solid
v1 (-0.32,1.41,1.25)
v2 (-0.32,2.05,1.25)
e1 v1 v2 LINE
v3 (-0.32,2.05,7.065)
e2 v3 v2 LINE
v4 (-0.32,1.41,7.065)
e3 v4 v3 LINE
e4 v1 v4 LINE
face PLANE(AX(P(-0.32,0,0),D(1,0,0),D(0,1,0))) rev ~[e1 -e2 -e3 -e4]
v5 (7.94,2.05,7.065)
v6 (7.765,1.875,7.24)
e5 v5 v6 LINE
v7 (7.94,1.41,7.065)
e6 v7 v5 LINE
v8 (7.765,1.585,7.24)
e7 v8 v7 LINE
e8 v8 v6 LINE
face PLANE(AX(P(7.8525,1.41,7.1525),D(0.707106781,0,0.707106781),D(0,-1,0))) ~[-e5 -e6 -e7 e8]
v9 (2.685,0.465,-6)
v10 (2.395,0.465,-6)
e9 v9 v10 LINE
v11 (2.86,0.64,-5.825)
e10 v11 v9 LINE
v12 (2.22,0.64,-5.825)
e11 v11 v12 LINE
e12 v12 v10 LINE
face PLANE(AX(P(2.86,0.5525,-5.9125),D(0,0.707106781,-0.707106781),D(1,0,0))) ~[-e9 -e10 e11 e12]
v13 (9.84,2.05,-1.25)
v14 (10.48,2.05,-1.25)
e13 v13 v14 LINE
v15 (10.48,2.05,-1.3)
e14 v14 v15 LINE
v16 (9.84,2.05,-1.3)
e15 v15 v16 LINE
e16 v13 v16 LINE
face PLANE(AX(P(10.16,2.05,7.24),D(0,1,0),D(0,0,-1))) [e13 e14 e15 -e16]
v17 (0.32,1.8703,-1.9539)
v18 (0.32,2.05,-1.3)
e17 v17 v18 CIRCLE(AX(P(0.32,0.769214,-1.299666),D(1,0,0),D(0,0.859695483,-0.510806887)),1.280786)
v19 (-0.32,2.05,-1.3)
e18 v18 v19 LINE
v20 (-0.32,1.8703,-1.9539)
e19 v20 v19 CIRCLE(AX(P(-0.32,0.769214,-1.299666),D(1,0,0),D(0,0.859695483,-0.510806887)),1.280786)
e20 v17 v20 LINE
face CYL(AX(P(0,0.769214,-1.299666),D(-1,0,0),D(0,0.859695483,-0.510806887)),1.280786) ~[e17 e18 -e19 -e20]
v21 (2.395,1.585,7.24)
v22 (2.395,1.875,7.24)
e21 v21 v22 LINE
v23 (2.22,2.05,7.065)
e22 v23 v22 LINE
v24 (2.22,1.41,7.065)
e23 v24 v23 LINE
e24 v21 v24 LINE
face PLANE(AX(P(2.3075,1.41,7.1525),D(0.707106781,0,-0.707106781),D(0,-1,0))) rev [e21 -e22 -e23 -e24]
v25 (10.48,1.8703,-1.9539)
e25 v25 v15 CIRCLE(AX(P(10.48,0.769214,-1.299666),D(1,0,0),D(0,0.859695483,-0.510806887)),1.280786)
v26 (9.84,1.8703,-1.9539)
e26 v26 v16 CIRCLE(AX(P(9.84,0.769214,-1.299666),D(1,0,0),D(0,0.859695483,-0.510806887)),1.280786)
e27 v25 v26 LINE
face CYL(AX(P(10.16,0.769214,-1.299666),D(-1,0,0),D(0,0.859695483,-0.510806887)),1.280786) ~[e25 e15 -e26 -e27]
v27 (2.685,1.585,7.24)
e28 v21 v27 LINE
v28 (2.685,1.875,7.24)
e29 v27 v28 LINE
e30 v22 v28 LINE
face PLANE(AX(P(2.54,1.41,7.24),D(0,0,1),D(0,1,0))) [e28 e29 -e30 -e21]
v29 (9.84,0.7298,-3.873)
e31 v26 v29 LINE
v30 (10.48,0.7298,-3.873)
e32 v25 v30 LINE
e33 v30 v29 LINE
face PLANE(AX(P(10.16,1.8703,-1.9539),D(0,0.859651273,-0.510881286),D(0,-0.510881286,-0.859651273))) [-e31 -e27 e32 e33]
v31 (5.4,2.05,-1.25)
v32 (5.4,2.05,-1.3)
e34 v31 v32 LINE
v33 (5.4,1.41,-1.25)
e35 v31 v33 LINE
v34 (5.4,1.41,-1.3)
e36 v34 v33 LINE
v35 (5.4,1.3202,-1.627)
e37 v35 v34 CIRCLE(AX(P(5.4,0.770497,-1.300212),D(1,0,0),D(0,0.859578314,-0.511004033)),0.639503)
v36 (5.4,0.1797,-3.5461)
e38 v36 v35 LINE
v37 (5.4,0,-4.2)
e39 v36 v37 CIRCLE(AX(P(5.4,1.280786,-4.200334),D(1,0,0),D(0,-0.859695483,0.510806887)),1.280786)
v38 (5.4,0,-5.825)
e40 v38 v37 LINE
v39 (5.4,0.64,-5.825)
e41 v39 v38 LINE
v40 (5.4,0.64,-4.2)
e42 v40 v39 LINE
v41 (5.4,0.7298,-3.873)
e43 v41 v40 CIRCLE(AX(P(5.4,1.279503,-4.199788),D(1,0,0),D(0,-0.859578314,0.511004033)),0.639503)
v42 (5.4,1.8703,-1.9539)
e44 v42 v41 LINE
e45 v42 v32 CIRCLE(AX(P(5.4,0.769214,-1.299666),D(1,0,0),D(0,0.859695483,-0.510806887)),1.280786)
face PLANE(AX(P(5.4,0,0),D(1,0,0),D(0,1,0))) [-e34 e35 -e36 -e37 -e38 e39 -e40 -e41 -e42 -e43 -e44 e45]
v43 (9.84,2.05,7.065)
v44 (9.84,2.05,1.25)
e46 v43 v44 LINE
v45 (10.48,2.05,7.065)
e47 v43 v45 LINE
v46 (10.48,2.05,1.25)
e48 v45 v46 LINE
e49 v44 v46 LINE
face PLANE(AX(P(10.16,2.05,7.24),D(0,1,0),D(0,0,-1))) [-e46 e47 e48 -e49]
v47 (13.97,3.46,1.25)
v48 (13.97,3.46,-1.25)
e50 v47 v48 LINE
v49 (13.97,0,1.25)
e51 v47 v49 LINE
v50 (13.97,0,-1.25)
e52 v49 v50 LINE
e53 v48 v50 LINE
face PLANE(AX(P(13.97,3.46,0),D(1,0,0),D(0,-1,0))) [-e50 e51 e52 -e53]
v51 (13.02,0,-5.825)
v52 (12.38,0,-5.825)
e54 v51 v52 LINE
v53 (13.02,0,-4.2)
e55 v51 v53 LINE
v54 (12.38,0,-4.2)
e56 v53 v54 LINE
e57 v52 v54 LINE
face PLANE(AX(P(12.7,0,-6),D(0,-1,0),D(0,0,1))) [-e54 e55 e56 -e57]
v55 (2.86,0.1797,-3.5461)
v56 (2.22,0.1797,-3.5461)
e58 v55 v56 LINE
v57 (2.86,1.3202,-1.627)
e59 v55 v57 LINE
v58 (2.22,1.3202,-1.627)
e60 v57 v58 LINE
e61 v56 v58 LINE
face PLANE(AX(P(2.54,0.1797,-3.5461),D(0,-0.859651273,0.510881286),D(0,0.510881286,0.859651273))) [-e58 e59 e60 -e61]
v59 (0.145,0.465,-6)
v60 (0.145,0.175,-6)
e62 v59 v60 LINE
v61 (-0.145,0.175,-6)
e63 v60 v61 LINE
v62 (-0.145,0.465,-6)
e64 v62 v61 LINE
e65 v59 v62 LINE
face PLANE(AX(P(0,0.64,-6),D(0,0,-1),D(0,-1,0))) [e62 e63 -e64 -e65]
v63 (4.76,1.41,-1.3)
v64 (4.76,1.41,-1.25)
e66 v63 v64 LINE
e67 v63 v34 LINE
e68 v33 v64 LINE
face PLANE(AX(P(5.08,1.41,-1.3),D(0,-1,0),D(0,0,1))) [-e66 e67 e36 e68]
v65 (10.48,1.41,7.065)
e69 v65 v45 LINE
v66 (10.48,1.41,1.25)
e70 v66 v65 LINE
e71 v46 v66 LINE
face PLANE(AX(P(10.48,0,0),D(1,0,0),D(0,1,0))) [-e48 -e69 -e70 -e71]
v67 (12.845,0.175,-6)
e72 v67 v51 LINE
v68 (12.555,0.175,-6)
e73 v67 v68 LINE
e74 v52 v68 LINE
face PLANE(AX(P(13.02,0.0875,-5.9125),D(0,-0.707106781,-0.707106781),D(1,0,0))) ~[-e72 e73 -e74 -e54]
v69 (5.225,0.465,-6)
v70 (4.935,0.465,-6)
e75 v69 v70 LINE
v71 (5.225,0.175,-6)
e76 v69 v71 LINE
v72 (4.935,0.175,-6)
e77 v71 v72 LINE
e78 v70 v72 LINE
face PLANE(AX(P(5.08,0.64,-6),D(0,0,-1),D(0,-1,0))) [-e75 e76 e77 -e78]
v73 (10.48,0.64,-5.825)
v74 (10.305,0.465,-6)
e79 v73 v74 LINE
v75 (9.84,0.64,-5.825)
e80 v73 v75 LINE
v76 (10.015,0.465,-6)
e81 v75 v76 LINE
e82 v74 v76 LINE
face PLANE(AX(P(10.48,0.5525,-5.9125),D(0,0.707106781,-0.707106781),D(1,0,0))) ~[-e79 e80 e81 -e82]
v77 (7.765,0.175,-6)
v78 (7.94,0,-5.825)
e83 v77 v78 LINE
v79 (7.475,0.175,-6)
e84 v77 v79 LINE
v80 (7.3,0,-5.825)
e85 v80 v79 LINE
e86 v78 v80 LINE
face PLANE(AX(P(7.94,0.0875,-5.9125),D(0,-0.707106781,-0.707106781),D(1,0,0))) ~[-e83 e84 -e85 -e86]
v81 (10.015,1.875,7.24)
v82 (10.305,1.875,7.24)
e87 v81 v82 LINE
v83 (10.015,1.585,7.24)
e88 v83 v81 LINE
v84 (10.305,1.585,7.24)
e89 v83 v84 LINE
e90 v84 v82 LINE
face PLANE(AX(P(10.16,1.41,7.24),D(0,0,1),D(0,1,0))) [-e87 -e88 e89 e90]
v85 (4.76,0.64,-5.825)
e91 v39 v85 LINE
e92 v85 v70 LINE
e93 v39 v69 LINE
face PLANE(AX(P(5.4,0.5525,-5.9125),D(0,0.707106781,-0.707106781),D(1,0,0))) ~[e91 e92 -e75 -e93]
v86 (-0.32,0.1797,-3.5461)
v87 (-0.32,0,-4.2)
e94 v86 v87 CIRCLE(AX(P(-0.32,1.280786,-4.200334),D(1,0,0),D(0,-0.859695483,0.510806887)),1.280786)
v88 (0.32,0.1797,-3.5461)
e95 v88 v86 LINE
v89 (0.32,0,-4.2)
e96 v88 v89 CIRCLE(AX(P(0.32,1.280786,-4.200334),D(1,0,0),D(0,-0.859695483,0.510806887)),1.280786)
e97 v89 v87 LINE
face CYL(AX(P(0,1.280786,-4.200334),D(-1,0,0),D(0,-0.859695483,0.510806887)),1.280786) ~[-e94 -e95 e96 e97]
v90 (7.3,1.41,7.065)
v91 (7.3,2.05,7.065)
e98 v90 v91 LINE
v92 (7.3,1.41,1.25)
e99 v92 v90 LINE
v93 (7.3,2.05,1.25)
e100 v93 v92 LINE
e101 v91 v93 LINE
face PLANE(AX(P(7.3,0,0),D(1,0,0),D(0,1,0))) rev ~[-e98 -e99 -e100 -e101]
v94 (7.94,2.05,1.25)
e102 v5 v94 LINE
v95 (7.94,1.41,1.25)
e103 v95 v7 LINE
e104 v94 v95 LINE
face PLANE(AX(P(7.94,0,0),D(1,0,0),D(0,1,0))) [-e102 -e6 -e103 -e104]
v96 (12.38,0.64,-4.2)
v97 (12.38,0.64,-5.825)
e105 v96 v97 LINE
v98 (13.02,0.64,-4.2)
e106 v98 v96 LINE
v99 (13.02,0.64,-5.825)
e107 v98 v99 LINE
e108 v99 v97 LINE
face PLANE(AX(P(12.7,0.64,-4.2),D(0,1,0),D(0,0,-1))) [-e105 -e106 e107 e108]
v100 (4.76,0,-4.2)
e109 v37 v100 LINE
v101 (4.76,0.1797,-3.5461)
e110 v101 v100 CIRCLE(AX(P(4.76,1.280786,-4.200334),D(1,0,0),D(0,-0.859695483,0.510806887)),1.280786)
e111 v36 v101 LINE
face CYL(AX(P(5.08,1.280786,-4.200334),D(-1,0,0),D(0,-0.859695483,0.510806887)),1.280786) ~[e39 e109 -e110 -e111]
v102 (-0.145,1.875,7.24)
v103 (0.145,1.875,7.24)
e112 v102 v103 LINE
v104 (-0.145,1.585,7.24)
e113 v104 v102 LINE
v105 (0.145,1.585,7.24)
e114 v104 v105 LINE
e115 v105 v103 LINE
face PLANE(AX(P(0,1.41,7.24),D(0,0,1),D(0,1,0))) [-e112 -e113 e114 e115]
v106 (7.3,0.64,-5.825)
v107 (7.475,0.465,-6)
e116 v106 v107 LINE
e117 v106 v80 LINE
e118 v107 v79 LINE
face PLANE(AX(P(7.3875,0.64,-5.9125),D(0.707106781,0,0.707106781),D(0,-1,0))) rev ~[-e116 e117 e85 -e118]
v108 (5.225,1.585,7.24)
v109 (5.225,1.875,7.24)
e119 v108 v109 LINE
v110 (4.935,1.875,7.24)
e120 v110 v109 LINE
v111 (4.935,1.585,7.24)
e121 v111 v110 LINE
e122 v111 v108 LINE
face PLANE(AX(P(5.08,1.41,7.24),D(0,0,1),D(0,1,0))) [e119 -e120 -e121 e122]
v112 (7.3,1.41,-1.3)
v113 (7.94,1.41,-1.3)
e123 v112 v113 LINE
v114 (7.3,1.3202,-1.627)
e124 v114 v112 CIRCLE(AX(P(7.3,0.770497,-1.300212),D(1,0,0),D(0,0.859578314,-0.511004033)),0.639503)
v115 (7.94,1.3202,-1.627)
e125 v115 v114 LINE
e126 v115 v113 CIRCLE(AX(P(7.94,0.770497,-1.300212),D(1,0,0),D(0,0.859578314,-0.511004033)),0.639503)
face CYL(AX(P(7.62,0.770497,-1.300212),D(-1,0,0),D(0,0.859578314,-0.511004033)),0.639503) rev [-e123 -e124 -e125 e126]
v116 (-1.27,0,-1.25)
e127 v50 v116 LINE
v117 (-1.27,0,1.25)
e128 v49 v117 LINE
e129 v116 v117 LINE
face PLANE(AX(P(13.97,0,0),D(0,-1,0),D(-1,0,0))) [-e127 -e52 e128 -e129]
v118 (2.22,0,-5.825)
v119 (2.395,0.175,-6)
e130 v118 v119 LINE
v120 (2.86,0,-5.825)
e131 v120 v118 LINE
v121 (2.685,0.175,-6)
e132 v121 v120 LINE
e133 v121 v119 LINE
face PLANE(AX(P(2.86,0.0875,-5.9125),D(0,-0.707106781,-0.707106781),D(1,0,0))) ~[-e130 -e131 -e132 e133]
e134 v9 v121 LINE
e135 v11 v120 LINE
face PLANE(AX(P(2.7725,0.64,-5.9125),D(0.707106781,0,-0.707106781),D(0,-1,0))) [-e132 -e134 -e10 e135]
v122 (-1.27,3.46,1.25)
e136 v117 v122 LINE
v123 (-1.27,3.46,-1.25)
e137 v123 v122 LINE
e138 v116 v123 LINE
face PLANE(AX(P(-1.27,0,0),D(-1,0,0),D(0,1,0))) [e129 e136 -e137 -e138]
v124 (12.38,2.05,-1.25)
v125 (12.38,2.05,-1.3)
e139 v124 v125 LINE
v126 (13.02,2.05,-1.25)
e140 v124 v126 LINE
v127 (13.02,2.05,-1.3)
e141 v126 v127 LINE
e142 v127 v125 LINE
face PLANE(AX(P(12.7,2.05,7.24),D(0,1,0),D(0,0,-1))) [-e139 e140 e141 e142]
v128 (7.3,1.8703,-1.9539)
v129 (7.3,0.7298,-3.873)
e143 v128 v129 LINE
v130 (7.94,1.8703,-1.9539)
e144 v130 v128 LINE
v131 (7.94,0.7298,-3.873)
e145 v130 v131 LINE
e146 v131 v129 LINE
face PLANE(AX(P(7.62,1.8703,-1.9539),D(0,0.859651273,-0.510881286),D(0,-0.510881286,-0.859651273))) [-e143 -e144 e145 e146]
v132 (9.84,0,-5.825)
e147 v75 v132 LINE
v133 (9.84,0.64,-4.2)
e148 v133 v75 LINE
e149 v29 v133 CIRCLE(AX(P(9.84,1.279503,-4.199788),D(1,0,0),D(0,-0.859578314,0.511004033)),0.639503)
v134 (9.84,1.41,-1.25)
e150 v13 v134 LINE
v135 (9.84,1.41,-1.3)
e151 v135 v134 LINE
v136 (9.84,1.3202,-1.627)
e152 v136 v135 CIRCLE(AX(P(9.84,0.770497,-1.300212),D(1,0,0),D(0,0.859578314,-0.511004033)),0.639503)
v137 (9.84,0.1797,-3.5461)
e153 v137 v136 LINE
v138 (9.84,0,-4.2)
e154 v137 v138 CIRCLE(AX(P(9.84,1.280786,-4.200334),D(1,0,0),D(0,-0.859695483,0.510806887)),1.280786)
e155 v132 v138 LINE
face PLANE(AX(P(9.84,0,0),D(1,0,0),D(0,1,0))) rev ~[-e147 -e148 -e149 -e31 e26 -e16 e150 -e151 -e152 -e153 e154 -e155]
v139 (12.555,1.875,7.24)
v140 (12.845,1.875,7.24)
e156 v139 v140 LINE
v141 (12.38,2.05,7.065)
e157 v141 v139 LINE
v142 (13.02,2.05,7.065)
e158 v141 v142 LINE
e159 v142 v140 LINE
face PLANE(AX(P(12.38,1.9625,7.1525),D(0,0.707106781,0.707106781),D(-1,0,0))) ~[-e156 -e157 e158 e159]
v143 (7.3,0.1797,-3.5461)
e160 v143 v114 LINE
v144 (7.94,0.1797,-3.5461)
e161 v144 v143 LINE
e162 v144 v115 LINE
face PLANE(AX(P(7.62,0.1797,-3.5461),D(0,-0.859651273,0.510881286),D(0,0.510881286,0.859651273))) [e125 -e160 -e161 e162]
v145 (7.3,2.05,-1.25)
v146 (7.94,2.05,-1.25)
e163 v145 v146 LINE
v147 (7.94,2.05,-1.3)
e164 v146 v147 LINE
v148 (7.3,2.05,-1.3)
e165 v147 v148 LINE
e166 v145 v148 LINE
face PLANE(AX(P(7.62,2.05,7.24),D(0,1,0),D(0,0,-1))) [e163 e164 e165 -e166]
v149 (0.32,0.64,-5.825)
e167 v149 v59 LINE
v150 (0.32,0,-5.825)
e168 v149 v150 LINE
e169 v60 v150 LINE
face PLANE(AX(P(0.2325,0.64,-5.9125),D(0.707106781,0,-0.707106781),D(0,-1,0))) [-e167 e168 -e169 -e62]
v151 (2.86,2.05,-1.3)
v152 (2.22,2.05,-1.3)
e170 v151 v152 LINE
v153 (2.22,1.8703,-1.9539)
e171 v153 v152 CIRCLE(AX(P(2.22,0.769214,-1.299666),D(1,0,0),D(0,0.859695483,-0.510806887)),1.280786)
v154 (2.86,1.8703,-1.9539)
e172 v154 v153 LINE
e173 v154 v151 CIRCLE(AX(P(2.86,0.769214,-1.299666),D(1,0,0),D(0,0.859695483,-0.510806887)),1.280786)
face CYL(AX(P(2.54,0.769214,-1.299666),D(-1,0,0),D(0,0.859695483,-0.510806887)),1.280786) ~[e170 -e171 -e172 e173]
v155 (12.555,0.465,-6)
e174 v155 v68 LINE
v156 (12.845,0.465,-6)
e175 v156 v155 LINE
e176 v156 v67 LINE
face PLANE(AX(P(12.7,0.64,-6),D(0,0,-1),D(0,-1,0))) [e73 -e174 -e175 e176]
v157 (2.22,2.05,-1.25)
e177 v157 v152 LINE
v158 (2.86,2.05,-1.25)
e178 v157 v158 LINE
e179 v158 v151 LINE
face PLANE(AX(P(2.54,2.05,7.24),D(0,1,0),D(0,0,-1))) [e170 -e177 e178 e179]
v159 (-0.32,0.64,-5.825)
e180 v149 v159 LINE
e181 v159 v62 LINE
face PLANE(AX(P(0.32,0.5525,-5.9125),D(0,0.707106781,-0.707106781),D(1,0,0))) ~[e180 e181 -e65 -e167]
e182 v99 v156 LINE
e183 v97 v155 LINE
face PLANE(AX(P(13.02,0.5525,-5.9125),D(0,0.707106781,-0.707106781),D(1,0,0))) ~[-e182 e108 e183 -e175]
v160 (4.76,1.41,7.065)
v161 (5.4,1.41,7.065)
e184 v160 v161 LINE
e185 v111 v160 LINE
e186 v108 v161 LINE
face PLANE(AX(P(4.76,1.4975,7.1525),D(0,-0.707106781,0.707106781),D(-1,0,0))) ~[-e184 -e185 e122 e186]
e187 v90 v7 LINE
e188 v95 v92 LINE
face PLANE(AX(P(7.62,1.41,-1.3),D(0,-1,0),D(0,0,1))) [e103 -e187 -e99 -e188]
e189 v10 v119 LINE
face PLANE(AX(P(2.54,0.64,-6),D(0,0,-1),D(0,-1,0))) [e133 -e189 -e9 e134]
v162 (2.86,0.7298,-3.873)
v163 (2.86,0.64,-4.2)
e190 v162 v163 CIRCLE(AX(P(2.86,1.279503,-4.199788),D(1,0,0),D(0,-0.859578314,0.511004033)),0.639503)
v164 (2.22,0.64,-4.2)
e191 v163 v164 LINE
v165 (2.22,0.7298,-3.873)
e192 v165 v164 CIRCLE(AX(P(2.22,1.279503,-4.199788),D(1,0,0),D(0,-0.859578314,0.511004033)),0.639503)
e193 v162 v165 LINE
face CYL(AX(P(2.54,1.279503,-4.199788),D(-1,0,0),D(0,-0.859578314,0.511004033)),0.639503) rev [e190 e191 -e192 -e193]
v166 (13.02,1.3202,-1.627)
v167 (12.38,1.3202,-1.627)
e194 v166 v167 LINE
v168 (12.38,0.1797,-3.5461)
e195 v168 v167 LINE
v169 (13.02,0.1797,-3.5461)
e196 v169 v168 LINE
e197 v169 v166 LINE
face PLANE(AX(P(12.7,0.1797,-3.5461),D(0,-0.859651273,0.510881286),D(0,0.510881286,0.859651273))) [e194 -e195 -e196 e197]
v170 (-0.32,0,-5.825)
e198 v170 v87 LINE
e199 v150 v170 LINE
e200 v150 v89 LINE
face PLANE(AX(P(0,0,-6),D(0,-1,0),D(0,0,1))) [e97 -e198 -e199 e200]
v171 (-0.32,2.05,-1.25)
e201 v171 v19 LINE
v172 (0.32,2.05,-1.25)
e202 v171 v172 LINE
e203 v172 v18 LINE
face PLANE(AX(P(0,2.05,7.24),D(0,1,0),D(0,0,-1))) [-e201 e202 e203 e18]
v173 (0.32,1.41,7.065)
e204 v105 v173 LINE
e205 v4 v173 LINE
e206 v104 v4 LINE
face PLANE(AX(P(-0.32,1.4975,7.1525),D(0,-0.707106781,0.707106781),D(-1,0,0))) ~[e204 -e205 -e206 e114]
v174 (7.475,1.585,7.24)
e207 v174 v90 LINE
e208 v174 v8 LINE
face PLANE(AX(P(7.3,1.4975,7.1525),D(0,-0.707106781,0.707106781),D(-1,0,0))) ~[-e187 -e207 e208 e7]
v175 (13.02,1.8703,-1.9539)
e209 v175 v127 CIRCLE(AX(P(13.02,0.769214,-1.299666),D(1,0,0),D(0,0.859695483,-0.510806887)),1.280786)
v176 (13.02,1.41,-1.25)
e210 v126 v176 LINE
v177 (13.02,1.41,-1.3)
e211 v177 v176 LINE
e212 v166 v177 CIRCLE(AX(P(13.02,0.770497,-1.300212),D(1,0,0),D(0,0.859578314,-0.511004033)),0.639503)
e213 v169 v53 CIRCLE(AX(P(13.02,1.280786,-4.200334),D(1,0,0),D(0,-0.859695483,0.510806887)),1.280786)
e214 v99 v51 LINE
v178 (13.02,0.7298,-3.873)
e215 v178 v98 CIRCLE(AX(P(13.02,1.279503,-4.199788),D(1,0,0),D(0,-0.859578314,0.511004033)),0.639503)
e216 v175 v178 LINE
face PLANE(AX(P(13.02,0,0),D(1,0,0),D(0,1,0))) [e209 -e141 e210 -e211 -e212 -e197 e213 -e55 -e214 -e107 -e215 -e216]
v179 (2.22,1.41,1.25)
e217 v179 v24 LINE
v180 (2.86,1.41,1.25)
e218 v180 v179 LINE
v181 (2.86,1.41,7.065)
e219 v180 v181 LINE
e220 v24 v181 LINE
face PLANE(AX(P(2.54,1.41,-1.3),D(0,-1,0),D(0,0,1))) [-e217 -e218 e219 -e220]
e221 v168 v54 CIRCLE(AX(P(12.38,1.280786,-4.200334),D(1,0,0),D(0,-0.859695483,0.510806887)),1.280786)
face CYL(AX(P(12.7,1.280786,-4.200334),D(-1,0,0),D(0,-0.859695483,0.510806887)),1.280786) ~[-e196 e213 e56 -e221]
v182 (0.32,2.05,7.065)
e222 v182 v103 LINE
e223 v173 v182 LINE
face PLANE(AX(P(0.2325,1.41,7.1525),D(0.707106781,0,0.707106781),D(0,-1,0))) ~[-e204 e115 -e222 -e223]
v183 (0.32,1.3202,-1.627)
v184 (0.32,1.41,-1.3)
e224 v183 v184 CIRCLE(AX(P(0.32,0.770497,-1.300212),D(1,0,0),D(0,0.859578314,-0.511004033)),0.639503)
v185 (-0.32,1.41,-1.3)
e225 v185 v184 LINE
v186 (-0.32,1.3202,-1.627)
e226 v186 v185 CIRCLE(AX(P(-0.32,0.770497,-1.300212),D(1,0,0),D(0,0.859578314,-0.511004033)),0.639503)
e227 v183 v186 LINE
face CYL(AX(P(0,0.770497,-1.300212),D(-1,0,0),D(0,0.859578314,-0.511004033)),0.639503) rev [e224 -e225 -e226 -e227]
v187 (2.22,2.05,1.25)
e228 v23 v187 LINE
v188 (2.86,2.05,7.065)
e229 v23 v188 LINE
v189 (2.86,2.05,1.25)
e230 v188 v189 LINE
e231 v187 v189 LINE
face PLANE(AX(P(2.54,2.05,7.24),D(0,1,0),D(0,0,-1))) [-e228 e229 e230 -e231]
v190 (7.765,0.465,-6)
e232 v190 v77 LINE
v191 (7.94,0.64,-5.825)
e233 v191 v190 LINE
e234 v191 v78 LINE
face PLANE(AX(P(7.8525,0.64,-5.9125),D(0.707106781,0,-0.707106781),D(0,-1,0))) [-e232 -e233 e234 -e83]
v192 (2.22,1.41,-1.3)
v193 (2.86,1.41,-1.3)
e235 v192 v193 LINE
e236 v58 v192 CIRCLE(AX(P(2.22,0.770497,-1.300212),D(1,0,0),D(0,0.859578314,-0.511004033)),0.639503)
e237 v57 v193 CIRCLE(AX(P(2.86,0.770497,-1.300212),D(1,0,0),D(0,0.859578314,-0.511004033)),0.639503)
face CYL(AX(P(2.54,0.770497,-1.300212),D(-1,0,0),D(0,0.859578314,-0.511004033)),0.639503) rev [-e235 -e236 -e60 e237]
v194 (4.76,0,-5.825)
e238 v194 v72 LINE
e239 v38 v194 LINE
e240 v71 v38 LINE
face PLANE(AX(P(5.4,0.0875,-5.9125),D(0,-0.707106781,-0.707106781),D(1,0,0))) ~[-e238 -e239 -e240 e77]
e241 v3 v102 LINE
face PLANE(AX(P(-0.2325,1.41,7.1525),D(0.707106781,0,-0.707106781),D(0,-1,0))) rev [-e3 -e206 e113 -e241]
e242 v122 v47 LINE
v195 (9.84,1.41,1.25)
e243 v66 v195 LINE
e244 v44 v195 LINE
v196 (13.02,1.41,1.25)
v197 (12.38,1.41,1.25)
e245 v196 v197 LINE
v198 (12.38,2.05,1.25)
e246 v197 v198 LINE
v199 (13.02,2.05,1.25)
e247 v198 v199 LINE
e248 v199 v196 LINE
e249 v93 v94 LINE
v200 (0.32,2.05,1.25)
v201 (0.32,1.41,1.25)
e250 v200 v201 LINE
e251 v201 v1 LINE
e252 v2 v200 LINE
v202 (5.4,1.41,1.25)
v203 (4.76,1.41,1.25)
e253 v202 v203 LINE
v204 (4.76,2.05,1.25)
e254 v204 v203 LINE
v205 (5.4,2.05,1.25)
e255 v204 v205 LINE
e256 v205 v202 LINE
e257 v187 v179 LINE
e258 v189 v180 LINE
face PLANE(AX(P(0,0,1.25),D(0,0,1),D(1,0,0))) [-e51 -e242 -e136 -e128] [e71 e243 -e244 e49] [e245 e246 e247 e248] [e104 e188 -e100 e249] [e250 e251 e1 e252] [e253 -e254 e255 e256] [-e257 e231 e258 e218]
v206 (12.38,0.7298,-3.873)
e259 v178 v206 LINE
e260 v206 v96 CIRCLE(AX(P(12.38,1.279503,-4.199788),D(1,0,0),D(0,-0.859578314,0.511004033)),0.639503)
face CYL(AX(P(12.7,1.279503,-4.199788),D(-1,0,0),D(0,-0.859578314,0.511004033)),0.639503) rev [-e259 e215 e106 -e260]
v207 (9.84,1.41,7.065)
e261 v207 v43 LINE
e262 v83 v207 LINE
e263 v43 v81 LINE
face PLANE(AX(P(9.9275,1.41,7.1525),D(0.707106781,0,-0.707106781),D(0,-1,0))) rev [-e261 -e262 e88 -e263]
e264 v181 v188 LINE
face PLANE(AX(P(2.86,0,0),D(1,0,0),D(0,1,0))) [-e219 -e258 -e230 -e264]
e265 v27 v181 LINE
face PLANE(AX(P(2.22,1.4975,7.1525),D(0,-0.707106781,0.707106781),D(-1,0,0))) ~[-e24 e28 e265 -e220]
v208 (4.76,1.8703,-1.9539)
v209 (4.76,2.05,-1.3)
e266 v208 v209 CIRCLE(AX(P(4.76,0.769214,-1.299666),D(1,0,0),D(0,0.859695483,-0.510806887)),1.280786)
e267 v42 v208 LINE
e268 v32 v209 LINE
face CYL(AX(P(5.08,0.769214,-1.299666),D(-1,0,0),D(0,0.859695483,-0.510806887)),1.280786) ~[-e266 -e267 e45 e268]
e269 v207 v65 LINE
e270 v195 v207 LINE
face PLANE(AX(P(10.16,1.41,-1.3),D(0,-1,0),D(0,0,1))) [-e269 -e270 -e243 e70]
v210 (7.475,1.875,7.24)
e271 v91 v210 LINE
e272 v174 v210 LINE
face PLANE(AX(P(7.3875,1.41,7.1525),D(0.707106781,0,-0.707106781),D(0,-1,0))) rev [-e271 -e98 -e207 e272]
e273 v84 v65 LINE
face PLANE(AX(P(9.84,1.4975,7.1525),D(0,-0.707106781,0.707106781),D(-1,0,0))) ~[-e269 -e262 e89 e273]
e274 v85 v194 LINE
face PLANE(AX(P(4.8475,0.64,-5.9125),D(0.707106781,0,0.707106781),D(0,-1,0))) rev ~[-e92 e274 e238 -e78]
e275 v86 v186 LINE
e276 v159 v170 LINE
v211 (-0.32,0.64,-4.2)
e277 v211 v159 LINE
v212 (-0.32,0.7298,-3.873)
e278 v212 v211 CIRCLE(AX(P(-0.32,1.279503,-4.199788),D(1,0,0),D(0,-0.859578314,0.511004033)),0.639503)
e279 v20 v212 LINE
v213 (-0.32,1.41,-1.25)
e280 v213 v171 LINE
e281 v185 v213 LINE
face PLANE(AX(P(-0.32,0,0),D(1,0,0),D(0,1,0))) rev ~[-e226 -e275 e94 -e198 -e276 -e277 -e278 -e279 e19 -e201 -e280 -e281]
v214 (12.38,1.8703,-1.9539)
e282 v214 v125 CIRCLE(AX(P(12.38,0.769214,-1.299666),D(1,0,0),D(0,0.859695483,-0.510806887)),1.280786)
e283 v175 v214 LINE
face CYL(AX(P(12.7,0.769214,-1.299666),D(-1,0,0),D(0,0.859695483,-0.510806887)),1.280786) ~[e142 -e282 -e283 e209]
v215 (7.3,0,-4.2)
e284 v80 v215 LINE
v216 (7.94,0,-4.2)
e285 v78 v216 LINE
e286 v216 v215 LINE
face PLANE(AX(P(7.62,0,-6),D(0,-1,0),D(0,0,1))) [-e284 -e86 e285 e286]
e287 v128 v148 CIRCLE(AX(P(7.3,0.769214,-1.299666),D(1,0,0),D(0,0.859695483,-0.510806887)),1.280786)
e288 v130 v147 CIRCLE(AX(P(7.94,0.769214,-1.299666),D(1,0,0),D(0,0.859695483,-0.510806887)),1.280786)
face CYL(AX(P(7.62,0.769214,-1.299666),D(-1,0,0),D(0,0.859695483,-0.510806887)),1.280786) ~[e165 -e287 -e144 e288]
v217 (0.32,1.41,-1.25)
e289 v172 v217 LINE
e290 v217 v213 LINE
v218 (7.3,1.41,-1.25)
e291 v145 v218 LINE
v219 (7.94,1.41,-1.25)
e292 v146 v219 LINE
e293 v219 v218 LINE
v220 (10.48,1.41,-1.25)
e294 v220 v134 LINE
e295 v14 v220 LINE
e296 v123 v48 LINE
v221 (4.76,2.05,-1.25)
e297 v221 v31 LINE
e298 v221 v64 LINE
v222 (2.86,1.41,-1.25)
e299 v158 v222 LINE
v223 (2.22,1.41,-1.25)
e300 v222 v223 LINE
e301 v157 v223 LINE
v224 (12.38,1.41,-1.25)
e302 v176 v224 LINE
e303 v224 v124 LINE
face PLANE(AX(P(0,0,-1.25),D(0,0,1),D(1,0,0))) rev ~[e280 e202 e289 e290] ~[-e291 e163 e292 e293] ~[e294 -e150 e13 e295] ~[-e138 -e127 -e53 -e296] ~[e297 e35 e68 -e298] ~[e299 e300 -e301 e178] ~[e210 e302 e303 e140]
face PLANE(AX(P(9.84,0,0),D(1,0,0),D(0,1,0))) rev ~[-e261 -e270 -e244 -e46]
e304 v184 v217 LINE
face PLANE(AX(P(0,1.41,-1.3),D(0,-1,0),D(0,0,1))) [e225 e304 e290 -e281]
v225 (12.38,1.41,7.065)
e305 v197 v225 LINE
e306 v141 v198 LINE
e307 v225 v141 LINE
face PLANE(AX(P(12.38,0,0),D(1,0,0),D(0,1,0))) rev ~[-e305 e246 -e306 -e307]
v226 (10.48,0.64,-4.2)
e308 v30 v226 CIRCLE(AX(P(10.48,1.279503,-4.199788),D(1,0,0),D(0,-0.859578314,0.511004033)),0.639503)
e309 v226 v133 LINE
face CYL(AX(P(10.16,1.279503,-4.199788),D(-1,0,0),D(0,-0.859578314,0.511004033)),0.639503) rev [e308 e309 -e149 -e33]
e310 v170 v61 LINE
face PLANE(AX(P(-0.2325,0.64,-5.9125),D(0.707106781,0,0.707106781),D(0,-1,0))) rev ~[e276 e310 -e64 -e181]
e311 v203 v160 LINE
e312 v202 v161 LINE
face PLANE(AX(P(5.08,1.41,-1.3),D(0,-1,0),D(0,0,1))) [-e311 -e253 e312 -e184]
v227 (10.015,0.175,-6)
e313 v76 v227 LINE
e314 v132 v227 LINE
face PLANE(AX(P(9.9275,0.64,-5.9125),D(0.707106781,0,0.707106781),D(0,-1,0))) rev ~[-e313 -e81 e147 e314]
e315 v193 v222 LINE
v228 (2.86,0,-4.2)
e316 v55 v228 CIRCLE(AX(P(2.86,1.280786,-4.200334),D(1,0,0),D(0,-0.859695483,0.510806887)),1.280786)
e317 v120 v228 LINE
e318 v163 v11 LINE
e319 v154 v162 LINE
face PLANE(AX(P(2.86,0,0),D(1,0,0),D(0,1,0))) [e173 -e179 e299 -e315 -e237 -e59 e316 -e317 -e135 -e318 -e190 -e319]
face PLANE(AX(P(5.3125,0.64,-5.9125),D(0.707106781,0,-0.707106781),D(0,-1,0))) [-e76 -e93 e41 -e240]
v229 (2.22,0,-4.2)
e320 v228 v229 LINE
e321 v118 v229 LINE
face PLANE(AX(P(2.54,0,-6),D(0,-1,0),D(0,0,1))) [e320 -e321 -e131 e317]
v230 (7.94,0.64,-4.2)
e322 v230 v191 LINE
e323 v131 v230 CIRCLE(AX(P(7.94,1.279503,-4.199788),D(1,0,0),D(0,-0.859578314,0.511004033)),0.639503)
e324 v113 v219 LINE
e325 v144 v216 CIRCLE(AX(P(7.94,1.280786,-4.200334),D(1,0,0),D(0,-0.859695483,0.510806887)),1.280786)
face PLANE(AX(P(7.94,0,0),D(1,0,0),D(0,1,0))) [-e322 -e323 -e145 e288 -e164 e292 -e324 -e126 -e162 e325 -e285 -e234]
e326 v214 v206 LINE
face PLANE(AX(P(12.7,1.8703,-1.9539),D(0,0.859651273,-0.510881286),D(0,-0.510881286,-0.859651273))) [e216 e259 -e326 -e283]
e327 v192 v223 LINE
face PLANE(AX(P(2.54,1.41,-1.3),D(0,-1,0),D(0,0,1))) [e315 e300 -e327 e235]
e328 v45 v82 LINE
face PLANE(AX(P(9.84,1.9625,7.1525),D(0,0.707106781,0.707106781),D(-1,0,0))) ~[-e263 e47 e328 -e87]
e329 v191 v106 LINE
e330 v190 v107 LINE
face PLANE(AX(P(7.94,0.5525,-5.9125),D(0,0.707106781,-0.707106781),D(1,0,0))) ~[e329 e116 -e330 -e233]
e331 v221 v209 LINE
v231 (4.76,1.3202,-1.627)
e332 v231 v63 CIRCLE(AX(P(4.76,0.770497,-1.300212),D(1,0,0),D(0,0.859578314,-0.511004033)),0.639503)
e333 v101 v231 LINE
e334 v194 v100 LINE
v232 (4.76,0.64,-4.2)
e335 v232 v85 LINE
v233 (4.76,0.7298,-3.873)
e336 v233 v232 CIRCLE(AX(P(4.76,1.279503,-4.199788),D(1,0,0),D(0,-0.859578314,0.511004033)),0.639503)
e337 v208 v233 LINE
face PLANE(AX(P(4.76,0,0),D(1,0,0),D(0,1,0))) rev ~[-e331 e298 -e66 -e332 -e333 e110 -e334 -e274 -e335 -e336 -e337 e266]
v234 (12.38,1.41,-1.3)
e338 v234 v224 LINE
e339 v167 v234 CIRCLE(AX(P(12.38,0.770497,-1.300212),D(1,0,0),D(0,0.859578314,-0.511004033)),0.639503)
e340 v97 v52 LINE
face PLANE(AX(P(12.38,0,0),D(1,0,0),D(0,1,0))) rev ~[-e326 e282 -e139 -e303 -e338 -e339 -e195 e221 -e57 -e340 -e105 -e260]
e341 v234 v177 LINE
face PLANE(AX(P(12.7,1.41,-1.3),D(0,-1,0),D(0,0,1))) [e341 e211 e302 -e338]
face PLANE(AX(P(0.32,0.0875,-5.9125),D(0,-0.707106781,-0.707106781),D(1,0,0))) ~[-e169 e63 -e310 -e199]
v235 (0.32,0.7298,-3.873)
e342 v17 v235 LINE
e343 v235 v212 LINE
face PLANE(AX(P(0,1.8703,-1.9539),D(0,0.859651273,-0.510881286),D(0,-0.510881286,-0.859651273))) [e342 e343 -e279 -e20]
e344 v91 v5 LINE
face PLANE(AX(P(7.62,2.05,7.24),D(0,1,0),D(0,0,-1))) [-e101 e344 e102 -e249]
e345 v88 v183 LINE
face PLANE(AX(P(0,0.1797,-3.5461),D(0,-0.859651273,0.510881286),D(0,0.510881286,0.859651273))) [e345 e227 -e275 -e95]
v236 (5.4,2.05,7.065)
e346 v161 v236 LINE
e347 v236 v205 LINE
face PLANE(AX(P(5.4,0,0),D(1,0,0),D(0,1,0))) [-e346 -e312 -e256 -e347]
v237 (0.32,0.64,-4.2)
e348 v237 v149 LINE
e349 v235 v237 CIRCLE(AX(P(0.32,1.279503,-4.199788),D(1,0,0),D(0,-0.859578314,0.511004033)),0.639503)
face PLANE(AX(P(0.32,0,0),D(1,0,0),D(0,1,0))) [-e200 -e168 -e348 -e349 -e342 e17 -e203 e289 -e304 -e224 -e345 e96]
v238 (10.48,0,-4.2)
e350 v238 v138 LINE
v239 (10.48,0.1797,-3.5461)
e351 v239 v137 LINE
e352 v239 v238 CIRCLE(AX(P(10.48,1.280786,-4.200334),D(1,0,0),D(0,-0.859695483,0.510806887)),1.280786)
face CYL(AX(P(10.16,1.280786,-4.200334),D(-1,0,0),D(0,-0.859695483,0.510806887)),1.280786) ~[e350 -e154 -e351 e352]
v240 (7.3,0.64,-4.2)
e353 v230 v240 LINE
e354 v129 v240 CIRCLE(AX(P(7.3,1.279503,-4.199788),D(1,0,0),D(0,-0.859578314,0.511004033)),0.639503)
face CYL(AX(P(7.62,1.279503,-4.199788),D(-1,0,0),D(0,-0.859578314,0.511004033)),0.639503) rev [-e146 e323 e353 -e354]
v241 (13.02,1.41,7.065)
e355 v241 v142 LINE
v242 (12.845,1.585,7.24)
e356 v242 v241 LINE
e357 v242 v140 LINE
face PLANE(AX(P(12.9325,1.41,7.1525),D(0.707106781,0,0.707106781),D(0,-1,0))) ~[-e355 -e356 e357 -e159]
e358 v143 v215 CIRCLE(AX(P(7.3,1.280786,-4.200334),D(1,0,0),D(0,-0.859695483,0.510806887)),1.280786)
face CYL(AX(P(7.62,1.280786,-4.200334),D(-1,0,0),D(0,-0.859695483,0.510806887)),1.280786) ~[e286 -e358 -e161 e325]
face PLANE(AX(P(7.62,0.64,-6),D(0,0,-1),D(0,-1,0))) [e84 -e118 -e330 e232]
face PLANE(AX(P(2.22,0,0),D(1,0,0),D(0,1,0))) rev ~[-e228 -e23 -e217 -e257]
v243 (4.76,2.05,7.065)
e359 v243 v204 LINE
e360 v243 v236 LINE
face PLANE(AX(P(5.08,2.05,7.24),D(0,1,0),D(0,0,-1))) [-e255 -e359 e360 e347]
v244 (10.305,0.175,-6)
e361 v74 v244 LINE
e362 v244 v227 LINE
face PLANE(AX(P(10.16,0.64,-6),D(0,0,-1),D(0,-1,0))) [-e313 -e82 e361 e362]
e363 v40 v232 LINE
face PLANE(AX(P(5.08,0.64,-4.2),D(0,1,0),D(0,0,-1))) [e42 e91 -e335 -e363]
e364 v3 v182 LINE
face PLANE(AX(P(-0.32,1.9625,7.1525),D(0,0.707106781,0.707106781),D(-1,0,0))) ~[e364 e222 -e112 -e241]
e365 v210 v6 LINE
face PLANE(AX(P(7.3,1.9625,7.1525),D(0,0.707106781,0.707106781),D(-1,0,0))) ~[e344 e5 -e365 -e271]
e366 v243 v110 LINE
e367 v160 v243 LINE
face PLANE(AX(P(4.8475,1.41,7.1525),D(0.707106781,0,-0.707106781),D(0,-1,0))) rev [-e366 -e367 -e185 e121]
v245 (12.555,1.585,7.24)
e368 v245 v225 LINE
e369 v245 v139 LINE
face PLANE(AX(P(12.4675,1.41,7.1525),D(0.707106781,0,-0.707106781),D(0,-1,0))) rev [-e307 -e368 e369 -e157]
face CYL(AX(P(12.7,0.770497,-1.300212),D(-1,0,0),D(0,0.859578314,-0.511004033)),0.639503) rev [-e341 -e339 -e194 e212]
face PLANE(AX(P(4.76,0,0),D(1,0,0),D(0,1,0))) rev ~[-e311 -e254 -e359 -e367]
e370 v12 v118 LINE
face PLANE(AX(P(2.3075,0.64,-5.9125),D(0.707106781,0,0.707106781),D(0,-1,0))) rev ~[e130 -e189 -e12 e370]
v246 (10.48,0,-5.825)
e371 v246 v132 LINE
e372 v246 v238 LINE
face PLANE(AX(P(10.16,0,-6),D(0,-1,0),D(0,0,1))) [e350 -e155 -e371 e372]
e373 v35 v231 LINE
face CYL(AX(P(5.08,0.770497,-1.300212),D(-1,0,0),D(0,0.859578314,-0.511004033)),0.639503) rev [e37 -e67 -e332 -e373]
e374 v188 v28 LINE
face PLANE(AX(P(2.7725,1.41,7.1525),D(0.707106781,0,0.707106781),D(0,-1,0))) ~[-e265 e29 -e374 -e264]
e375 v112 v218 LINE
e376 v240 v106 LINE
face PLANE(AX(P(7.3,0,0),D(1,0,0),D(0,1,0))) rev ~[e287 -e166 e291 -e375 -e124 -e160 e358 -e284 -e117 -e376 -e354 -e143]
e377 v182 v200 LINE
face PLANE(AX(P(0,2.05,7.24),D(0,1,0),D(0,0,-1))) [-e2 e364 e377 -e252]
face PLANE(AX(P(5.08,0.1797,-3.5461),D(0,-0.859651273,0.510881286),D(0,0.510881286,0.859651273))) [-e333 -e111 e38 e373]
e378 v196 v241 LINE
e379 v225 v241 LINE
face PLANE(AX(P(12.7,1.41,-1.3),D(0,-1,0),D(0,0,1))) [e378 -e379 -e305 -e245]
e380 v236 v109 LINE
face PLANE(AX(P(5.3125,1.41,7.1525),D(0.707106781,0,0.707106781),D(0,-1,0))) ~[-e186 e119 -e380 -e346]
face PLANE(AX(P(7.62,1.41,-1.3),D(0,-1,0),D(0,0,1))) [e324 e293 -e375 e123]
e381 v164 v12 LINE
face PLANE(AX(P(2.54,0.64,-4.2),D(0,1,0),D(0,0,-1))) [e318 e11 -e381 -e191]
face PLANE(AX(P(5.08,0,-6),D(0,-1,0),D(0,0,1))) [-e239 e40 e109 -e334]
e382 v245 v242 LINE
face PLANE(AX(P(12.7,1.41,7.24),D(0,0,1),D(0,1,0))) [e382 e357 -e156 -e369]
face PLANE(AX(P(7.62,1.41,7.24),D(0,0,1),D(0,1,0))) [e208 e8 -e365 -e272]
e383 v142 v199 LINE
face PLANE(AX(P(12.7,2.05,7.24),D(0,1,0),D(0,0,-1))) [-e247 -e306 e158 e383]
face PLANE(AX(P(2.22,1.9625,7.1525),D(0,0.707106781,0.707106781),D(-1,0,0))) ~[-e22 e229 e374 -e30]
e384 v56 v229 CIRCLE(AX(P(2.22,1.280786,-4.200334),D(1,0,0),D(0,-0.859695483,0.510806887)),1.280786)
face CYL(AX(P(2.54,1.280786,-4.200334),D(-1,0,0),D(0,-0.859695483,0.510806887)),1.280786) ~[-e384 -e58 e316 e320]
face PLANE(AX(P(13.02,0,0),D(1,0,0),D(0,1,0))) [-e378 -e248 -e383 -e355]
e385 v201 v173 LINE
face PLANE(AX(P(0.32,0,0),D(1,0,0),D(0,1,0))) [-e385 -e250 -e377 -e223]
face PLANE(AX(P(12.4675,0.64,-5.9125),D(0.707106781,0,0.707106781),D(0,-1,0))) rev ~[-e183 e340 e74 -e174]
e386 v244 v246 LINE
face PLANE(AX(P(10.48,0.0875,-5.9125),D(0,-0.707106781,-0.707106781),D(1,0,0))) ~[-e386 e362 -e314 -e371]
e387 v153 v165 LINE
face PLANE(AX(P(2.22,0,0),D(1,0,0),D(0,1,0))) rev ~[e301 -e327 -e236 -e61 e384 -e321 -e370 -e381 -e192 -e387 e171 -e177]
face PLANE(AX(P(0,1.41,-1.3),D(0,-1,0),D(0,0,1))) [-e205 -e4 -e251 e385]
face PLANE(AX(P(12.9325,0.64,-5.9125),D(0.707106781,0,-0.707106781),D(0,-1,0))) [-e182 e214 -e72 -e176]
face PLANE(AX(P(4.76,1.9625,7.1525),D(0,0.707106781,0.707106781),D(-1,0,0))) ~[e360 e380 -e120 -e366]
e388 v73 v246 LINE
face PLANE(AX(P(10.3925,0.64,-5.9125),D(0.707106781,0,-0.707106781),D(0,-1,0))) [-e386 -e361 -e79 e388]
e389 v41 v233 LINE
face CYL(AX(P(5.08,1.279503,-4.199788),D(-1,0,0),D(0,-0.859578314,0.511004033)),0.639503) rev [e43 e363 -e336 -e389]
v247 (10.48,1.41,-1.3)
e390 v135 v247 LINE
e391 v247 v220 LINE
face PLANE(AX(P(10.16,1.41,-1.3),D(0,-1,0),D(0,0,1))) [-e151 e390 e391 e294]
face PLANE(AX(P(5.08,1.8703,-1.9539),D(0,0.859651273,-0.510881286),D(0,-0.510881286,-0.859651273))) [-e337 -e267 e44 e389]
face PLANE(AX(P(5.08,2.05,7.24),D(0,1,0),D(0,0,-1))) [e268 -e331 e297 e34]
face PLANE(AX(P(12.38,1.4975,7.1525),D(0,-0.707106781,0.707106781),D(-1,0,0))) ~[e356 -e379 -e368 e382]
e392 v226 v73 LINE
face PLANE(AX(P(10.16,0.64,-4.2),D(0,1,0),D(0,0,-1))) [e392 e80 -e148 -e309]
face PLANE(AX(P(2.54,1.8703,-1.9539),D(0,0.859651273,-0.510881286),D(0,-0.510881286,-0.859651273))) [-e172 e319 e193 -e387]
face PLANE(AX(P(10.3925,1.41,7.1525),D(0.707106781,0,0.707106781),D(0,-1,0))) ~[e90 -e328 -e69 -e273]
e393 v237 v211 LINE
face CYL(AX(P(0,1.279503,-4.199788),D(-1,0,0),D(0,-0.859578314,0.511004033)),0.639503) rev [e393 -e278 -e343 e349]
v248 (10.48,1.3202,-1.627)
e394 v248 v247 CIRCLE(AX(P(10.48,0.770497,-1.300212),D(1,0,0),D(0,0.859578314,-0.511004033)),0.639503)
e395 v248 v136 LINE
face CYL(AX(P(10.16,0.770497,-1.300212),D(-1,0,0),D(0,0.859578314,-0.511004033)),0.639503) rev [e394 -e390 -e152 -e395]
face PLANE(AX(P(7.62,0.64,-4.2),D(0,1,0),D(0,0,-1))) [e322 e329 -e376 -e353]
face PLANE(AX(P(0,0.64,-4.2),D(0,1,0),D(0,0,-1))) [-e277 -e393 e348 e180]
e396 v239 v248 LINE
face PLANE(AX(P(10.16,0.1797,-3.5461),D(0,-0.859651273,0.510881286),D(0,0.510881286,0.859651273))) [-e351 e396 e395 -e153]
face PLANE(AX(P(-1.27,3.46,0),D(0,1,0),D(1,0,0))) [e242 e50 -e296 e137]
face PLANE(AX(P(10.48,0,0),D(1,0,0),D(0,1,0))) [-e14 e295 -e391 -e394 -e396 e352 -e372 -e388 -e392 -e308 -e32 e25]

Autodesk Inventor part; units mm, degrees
ref_plane "YZ Plane" through (0, 0, 0) normal (1, 0, 0) x (0, 1, 0)
ref_plane "XZ Plane" through (0, 0, 0) normal (0, 1, 0) x (-1, 0, 0)
ref_plane "XY Plane" through (0, 0, 0) normal (0, 0, 1) x (1, 0, 0)
sketch "Sketch1" plane through (0, 0, 0) normal (1, 0, 0) x (0, 1, 0)
  line L0 (2.05, 7.24) -> (2.05, -1.3)
  arc A0 (1.8703, -1.9539) -> (2.05, -1.3) centre (0.77, -1.3) ccw
  line L1 (1.8703, -1.9539) -> (0.7298, -3.873)
  arc A1 (0.7298, -3.873) -> (0.64, -4.2) centre (1.28, -4.2) ccw
  line L2 (0.64, -4.2) -> (0.64, -6)
  line L3 (0.64, -6) -> (0, -6)
  line L4 (0, -6) -> (0, -4.2)
  arc A2 (0.1797, -3.5461) -> (0, -4.2) centre (1.28, -4.2) ccw
  line L5 (0.1797, -3.5461) -> (1.3202, -1.627)
  arc A3 (1.3202, -1.627) -> (1.41, -1.3) centre (0.77, -1.3) ccw
  line L6 (1.41, -1.3) -> (1.41, 7.24)
  line L7 (1.41, 7.24) -> (2.05, 7.24)
  point P0 (0, 0)
  dimension "d0" = 0.64
  dimension "d1" = 13.24
  dimension "d2" = 1.8
  dimension "d3" = 4.7
  dimension "d4" = 1.41
  dimension "d5" = 0.64
  dimension "d6" = 6
extrude "Extrusion1" add sketch "Sketch1" along normal mid plane 0.64
chamfer "Chamfer1" distance 0.175 angle 45 8 edges at (0, 2.05, 7.24) (-0.32, 1.73, 7.24) (0, 1.41, 7.24) (0.32, 1.73, 7.24) (0, 0.64, -6) (-0.32, 0.32, -6) (0, 0, -6) (0.32, 0.32, -6)
pattern_linear "Rectangular Pattern1" count 6 spacing 2.54 along (1, 0, 0) of "Extrusion1", "Chamfer1"
sketch "Sketch2" plane through (0, 0, 0) normal (0, 0, 1) x (1, 0, 0)
  line L0 (-1.27, 3.46) -> (13.97, 3.46)
  line L1 (13.97, 3.46) -> (13.97, 0)
  line L2 (13.97, 0) -> (-1.27, 0)
  line L3 (-1.27, 0) -> (-1.27, 3.46)
  line L4 (0.32, 1.41) -> (-0.32, 1.41) projected
  line L5 (0.32, 2.05) -> (0.32, 1.41) projected
  line L6 (-0.32, 2.05) -> (0.32, 2.05) projected
  line L7 (-0.32, 1.41) -> (-0.32, 2.05) projected
  line L8 (13.02, 1.41) -> (12.38, 1.41) projected
  line L9 (13.02, 2.05) -> (13.02, 1.41) projected
  line L10 (12.38, 2.05) -> (13.02, 2.05) projected
  line L11 (12.38, 1.41) -> (12.38, 2.05) projected
  line L12 (12.38, 1.73) -> (0.32, 1.73) construction
  point P0 (0, 0)
  point P1 (6.35, 1.73)
  point P2 (6.35, 3.46)
  dimension "d12" = 3.46
  dimension "d13" = 15.24
extrude "Extrusion2" add sketch "Sketch2" along normal mid plane 2.5
equation "\"d7\" = d0"
properties part number "SMD2.54-1x06-R" material "Nickel-Copper Alloy 400"
